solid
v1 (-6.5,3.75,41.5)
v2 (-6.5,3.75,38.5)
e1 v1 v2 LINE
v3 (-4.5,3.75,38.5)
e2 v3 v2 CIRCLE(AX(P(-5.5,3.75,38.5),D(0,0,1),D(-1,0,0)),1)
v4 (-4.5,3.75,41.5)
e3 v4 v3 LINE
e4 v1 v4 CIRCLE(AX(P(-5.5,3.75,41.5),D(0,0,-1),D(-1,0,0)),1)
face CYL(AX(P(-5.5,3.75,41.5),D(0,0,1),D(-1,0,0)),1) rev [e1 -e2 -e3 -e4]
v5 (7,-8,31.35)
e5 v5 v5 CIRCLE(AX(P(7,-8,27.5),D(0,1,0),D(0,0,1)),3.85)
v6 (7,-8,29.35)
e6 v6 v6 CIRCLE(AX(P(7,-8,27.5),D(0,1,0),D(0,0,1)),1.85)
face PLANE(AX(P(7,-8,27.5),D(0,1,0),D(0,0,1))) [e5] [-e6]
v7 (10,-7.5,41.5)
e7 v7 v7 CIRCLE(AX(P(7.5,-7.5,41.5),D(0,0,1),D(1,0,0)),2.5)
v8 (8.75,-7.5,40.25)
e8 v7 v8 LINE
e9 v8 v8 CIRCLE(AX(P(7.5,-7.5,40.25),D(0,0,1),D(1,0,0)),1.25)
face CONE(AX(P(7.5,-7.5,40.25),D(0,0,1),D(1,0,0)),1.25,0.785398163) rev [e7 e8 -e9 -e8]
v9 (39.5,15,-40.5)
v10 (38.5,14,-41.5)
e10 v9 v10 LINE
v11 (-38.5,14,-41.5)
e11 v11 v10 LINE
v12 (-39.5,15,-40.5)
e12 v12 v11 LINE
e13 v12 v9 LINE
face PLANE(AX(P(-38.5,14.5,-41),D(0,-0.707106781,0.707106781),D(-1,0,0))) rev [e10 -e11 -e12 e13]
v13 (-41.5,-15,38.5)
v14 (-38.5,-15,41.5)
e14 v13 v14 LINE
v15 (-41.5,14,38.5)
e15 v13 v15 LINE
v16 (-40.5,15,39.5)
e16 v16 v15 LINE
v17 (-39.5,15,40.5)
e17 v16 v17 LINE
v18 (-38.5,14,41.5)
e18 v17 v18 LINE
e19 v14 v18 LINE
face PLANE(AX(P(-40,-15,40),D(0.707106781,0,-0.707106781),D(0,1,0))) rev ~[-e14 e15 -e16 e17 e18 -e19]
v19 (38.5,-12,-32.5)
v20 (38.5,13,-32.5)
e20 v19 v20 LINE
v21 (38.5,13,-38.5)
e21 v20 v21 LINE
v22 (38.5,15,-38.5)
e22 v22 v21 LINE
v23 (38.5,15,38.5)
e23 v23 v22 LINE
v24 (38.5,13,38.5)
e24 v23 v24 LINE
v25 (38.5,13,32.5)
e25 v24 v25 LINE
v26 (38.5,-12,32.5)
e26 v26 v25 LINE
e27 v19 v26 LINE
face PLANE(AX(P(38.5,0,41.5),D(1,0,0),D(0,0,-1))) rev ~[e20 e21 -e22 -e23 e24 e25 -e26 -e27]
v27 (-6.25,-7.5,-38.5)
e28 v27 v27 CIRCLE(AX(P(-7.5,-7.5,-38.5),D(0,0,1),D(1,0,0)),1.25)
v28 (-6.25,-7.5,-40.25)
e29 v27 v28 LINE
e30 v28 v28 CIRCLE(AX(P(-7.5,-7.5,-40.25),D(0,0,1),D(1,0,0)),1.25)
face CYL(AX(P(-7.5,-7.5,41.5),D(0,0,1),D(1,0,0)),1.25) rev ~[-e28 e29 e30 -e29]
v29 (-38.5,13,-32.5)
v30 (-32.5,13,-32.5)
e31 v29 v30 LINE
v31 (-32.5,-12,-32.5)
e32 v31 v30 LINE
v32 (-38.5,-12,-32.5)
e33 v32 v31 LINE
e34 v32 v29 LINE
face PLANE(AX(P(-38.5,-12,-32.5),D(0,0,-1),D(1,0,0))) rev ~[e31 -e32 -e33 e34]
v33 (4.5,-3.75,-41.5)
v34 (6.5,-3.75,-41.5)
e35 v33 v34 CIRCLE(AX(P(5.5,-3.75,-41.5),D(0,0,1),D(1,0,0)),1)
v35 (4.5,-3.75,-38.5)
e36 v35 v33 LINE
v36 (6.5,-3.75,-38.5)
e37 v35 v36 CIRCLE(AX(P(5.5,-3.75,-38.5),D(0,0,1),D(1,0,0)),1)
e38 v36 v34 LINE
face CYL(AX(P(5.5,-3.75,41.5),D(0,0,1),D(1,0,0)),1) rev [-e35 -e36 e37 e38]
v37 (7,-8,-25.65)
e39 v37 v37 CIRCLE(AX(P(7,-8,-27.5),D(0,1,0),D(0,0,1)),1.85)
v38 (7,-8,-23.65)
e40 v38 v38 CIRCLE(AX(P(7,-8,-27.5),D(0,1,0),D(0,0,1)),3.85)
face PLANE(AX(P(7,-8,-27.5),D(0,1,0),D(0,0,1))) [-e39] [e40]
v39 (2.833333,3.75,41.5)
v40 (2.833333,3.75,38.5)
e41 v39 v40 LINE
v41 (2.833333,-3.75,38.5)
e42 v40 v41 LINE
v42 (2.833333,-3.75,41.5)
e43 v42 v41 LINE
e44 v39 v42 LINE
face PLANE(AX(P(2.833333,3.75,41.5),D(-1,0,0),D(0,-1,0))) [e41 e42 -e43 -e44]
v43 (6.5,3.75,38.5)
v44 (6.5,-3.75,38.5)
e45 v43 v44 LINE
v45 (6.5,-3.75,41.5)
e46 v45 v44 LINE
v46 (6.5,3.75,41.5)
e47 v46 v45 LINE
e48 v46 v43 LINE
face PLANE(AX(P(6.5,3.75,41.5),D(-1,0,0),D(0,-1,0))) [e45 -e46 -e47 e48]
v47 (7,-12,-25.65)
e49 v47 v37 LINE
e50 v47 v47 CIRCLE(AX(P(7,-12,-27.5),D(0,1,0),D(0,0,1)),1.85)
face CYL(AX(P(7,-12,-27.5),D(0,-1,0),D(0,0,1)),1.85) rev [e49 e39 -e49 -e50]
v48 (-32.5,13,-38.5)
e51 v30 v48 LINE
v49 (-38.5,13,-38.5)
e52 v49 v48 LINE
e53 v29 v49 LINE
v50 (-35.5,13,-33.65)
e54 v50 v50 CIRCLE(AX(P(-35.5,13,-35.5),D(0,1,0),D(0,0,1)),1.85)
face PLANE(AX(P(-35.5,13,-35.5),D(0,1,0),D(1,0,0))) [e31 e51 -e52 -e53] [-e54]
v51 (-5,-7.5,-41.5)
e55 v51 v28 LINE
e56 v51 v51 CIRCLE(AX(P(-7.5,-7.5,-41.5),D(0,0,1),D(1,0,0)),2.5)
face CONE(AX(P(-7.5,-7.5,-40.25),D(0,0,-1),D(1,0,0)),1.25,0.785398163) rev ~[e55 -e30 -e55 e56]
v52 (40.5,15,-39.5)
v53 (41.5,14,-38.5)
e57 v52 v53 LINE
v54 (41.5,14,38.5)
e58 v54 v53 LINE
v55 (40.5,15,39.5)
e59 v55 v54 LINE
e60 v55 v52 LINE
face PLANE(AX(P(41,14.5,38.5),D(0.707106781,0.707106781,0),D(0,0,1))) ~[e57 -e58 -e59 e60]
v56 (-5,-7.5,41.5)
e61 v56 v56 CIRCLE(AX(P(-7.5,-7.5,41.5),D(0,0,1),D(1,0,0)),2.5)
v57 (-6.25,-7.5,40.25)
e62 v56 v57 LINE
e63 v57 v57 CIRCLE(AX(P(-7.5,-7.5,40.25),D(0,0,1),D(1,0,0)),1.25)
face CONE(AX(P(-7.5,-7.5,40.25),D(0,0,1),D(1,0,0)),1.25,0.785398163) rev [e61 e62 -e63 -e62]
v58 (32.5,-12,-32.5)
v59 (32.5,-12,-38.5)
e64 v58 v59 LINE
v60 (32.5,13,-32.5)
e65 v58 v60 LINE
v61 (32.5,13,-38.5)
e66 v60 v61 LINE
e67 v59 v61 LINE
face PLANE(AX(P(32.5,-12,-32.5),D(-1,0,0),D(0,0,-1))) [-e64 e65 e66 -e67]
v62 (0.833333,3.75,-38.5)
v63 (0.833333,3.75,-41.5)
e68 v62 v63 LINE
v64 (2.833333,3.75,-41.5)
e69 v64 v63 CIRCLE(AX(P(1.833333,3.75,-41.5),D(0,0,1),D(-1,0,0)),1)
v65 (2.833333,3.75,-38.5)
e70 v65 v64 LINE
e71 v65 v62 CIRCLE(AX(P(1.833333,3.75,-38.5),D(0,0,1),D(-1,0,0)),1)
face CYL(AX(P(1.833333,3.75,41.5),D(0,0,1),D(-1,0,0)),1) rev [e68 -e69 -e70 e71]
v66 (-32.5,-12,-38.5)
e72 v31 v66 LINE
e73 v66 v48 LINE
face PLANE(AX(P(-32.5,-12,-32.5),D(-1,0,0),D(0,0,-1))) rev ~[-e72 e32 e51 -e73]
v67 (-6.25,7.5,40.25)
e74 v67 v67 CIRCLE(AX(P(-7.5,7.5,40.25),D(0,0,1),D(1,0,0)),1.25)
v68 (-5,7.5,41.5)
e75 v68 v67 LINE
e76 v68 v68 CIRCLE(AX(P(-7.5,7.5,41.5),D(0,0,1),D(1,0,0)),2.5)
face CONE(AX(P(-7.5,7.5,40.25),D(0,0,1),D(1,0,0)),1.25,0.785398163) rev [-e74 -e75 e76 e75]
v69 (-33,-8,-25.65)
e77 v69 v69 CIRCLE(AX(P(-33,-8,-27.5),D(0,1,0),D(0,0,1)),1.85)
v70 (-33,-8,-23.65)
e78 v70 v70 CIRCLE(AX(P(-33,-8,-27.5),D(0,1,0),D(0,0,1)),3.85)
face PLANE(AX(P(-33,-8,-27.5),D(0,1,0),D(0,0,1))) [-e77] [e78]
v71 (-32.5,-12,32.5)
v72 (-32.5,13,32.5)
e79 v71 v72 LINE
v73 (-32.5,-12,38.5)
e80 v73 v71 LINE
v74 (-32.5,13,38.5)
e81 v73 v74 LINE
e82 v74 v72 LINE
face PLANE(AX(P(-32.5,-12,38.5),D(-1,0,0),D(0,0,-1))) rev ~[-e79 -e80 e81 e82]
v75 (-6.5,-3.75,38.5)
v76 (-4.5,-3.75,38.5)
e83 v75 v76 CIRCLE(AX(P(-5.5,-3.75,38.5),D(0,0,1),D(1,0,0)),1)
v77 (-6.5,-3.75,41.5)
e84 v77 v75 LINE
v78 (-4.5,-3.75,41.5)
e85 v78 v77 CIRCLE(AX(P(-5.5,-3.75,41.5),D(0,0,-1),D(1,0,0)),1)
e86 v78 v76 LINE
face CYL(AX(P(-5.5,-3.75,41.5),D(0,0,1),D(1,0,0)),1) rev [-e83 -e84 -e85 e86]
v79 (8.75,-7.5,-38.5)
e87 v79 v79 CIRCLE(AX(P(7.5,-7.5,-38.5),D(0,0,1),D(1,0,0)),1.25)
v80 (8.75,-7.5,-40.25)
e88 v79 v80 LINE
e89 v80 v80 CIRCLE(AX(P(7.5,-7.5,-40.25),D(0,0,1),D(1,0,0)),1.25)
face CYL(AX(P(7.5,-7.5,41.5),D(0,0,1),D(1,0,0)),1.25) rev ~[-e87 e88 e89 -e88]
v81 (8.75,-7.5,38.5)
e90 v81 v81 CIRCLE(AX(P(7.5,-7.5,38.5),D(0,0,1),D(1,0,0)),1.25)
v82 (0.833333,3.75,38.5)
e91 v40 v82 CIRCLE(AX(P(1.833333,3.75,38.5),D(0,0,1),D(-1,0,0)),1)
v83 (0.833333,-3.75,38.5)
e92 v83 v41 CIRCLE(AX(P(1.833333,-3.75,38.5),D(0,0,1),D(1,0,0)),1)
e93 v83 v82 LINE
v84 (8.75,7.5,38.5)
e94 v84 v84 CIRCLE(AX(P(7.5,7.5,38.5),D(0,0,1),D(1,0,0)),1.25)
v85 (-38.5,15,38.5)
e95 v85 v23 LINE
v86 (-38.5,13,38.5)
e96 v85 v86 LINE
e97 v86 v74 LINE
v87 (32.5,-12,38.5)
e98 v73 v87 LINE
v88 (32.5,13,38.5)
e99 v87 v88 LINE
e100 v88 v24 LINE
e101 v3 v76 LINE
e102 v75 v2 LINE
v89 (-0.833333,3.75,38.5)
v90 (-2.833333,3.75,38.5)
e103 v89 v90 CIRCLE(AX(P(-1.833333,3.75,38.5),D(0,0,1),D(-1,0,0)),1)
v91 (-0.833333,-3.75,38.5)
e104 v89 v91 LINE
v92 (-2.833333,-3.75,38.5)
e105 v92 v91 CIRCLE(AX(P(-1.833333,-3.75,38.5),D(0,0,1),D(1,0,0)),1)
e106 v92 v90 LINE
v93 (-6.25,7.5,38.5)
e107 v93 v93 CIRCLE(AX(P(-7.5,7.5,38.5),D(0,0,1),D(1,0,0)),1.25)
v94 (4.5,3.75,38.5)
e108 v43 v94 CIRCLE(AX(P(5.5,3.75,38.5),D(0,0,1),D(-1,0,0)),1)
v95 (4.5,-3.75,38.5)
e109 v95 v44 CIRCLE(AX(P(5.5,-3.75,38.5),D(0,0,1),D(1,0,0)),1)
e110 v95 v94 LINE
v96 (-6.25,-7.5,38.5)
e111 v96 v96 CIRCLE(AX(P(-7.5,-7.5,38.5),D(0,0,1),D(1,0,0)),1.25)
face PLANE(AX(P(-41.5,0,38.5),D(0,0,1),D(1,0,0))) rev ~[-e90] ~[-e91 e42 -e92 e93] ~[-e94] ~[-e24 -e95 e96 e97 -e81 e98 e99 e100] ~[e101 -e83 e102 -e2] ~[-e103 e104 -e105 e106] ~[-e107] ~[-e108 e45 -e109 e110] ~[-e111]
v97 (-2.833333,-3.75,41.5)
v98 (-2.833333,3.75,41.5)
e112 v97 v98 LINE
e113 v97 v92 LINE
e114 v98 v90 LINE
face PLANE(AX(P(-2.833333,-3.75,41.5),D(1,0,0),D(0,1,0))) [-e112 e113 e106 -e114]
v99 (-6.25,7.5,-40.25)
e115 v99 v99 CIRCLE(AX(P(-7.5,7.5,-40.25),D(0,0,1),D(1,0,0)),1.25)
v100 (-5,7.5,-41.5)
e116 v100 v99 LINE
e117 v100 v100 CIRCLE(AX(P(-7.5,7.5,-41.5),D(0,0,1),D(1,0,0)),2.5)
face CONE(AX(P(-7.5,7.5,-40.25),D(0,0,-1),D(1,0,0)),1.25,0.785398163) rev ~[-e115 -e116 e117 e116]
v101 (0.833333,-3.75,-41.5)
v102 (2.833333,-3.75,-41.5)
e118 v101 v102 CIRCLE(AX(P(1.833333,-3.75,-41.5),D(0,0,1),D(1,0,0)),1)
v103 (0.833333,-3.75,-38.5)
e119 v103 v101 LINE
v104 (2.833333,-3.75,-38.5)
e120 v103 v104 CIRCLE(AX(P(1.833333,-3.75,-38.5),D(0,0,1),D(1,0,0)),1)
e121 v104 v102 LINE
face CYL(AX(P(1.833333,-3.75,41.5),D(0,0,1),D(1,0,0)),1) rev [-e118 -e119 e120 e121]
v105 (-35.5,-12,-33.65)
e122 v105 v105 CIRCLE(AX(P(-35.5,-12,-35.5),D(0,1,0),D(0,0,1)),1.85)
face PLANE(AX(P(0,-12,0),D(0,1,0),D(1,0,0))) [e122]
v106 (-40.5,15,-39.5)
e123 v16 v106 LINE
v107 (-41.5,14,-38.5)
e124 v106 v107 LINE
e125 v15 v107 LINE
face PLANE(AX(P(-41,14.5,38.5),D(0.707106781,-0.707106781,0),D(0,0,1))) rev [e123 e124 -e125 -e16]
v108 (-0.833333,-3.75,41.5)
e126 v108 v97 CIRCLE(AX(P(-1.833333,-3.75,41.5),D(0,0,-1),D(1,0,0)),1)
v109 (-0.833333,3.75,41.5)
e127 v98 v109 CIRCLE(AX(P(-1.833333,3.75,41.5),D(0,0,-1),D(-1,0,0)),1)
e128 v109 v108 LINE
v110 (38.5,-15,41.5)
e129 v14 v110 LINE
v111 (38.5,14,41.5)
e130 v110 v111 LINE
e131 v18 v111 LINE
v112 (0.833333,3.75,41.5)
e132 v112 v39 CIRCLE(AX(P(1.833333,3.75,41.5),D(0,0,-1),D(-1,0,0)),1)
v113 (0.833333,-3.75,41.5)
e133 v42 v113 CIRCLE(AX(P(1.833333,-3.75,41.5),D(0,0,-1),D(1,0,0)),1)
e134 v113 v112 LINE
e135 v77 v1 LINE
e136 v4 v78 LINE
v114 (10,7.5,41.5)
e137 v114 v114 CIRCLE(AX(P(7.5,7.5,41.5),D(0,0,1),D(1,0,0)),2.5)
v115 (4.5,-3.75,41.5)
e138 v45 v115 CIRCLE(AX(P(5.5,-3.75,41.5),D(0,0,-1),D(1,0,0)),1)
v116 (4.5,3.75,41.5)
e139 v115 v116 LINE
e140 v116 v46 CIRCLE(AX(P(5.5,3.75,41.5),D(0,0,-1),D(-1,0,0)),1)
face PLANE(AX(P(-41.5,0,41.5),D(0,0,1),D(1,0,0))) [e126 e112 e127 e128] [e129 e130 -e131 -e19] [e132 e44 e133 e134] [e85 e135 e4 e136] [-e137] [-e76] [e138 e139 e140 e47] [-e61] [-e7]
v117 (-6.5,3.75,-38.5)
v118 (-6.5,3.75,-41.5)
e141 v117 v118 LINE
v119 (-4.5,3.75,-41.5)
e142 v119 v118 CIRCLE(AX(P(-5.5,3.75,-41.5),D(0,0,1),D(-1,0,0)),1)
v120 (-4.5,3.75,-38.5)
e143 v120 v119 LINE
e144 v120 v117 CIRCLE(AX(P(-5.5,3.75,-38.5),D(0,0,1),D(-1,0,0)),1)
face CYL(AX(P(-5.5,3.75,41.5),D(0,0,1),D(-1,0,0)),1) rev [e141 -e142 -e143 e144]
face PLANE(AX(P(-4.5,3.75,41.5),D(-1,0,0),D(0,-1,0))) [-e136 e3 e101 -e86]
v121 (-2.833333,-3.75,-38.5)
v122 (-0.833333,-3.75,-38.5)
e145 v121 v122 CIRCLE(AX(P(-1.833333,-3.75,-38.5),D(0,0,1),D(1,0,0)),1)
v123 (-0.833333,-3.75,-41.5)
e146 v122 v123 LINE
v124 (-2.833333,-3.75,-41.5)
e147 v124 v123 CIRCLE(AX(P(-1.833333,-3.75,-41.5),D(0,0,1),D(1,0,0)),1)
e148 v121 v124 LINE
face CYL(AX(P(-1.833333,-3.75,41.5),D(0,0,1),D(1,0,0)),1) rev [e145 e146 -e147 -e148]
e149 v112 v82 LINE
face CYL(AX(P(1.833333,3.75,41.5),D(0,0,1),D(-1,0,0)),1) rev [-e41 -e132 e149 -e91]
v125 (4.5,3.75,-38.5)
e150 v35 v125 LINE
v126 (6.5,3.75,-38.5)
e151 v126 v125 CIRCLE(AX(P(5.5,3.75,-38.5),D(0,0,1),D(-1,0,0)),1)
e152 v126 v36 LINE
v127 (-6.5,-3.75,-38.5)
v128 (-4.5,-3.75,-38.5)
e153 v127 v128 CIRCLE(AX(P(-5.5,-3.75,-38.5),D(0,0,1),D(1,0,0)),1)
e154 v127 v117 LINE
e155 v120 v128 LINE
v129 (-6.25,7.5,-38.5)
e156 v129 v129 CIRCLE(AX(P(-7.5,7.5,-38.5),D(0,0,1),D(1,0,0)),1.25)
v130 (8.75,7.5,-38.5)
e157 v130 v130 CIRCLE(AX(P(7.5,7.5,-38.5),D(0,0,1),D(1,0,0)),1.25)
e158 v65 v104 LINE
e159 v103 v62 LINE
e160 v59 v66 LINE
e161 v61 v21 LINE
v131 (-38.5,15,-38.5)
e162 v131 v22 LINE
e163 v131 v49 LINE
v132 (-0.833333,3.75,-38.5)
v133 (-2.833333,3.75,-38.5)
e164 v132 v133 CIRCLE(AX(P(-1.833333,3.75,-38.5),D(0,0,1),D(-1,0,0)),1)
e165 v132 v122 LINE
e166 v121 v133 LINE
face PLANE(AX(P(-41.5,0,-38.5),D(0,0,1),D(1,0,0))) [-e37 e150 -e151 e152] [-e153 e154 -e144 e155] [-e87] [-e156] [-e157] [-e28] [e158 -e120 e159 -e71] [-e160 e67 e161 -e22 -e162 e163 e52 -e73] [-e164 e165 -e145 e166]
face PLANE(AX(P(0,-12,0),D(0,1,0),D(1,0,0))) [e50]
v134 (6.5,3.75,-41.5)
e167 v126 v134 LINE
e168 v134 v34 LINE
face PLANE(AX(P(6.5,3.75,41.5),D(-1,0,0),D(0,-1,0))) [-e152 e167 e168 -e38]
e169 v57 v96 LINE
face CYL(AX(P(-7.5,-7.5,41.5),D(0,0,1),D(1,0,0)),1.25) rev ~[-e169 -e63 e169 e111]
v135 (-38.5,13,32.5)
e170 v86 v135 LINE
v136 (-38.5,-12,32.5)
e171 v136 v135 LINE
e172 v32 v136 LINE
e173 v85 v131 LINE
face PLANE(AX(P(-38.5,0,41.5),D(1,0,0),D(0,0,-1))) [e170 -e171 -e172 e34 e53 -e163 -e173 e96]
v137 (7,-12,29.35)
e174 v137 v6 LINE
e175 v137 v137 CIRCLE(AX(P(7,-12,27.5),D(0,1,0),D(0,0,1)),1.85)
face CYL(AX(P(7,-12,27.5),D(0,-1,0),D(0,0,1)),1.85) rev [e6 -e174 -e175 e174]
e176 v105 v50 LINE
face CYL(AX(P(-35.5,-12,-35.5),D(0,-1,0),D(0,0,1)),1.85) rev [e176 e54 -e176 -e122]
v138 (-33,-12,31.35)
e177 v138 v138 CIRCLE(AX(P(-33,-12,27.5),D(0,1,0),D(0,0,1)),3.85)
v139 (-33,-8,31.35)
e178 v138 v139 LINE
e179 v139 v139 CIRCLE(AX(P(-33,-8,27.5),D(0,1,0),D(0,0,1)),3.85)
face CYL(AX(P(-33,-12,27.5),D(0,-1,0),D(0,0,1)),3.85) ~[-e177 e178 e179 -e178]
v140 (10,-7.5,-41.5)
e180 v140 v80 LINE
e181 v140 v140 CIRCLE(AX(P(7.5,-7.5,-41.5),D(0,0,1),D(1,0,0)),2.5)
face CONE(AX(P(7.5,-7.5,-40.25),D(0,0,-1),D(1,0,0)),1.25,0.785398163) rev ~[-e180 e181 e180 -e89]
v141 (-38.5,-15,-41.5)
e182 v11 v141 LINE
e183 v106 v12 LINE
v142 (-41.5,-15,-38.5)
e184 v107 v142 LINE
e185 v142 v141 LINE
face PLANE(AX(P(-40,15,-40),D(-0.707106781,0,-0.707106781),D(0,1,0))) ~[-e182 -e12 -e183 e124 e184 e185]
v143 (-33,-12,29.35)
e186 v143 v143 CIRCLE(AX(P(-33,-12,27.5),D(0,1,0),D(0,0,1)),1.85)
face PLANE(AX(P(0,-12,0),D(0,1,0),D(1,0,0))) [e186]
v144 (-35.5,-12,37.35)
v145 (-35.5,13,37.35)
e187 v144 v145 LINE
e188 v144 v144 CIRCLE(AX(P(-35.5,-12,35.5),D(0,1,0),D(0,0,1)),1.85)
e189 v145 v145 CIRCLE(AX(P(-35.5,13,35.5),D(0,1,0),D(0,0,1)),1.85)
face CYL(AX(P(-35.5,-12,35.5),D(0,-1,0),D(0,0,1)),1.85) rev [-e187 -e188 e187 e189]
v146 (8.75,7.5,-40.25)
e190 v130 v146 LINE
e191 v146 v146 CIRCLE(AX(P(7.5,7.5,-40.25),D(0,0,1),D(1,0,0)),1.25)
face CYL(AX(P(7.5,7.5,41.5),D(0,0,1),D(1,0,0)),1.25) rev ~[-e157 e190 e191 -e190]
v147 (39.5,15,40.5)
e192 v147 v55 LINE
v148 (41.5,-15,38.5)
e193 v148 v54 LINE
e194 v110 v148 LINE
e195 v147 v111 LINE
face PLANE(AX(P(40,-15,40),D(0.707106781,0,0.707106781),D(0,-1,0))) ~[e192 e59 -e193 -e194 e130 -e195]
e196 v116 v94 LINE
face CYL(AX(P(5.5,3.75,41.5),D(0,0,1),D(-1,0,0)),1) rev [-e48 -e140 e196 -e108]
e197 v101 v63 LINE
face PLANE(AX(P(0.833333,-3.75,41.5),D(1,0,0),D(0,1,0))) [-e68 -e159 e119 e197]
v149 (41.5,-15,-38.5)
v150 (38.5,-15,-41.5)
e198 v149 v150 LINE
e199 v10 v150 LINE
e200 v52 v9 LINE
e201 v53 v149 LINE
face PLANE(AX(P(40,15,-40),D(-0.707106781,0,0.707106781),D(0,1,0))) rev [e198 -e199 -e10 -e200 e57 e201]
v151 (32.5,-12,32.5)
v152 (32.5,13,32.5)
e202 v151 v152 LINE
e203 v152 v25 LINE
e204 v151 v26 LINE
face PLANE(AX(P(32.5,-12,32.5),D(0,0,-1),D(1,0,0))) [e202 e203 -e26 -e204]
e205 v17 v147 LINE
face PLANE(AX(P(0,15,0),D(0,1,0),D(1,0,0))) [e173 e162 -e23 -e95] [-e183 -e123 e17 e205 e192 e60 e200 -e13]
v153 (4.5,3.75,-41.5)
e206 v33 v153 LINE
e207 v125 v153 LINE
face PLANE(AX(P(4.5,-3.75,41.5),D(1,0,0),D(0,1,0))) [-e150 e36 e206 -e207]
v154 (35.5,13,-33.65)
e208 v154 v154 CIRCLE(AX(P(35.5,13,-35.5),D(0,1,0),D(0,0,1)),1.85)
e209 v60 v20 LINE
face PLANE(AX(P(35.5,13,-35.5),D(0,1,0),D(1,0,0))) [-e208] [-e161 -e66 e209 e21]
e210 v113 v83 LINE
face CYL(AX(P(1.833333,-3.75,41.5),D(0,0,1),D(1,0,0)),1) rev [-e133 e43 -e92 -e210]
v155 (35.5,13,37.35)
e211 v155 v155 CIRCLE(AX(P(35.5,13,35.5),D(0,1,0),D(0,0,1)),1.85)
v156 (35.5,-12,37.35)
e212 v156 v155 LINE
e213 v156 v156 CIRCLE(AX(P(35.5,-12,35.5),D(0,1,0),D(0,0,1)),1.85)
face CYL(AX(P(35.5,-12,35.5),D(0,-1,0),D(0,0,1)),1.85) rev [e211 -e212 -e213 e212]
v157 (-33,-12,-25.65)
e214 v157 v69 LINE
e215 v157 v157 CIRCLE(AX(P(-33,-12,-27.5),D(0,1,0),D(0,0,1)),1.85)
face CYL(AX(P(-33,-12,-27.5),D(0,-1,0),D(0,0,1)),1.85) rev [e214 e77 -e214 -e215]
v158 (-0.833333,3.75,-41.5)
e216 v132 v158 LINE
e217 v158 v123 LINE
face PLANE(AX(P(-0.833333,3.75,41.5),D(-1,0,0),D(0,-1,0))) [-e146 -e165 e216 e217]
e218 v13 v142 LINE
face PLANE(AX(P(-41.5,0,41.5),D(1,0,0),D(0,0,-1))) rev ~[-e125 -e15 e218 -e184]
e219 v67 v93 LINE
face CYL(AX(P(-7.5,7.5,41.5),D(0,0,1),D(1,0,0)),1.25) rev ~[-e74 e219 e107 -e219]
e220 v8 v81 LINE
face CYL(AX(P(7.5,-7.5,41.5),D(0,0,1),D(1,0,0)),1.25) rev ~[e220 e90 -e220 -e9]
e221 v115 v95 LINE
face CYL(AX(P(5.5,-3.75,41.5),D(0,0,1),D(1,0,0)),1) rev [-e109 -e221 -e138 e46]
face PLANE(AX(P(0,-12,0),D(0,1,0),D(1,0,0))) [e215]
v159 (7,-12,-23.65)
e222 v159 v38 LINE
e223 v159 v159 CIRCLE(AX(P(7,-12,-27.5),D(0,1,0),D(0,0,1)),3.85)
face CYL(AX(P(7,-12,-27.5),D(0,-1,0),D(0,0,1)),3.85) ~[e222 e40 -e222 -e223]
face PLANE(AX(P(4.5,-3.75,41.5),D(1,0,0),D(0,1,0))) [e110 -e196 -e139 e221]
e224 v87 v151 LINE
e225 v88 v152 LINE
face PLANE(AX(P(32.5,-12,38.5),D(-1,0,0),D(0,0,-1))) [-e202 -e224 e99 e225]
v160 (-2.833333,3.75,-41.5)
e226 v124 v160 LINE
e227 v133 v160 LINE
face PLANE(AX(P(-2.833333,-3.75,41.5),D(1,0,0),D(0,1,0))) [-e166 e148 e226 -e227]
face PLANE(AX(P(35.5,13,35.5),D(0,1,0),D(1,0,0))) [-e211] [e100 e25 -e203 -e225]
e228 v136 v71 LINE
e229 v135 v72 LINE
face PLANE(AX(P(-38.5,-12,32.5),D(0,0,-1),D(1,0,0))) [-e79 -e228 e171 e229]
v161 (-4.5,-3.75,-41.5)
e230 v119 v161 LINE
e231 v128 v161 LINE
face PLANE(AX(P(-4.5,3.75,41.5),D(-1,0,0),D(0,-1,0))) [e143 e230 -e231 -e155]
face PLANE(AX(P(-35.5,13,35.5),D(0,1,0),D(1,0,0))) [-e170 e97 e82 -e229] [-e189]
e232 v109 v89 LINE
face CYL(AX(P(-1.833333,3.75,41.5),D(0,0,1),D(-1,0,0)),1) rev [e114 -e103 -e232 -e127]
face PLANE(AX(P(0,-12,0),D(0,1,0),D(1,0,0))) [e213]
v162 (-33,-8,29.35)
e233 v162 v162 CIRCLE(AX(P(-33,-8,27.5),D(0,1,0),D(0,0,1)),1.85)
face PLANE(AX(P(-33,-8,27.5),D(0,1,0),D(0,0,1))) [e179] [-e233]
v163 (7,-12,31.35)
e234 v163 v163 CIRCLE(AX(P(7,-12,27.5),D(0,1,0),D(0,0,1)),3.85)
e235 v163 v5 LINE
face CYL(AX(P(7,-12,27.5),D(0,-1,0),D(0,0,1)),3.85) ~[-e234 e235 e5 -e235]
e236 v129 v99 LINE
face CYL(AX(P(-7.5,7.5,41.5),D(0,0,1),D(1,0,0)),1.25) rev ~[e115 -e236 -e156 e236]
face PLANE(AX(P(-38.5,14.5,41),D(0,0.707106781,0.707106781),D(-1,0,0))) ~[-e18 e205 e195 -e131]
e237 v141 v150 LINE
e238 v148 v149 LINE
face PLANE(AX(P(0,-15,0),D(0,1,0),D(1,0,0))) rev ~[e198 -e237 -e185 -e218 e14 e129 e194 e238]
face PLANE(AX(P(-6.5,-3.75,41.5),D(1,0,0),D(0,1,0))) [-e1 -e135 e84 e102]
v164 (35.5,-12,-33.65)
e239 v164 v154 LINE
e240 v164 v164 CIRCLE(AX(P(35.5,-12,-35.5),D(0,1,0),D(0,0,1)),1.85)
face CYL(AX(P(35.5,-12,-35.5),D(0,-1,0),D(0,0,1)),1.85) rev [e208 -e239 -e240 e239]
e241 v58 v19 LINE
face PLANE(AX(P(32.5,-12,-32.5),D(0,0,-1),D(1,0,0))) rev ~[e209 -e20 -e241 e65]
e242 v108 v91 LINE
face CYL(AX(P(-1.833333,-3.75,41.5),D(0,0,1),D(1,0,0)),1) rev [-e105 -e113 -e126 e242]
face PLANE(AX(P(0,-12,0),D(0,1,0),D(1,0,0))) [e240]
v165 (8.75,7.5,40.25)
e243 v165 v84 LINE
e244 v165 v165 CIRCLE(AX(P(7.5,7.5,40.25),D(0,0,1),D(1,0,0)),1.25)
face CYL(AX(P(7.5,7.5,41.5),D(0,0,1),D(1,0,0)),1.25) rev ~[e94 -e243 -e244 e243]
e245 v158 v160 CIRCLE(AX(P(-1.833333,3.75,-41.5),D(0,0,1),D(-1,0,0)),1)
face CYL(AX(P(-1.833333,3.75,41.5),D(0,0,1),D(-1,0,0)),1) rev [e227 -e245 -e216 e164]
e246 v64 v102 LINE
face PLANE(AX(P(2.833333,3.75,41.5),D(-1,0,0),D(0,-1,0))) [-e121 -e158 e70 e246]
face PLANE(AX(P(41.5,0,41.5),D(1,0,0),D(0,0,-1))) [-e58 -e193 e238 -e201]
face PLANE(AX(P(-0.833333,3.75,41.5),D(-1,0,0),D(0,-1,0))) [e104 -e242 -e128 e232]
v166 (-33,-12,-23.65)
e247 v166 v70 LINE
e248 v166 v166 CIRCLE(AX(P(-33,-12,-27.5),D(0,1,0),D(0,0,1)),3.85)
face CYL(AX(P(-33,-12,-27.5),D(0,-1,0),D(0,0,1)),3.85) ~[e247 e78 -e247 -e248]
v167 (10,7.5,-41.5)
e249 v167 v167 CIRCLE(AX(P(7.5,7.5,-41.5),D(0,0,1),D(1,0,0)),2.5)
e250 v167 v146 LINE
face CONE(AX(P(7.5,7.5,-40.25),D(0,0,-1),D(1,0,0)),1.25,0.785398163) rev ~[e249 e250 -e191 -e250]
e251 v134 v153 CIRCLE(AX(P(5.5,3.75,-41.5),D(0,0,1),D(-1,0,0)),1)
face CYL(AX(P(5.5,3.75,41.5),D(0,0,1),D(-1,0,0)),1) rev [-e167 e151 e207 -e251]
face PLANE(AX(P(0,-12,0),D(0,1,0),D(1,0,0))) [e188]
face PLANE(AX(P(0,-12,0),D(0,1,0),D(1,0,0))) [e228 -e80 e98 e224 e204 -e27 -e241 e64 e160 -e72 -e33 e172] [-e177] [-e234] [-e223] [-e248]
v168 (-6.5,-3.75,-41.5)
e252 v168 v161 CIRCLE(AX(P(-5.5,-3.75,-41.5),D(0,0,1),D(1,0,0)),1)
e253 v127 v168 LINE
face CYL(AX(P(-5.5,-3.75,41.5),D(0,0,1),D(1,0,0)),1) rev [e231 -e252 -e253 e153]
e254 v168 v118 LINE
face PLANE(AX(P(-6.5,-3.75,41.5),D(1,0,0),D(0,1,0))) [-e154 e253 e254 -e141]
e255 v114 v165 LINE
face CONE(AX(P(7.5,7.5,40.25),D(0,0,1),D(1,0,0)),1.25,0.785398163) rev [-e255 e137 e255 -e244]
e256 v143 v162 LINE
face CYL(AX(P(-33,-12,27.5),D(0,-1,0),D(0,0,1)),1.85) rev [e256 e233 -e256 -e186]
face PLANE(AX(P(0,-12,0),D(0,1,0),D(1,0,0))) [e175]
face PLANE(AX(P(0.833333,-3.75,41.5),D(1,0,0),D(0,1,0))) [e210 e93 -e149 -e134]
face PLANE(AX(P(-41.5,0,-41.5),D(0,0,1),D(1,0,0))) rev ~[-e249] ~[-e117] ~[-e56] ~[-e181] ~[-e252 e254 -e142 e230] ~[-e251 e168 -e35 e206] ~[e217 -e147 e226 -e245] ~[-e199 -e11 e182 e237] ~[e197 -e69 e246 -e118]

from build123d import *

# Parameters (mm, degrees)
SKETCH3_W              = 83
SKETCH3_H              = 83
BODY_DEPTH             = 15
SHELL_T                = -3
SKETCH4_W              = 6
SKETCH4_H              = 6
SKETCH4_R              = 1.85
INSERTS_SUPPPORT_DEPTH = 25
CHAMFER1_SIZE          = 3
CHAMFER2_SIZE          = 1
SKETCH5_R              = 1.25
AIR_EXTRACTION_DEPTH   = 95.001329778
CHAMFER3_SIZE          = 1.25
SKETCH7_R              = 3.85
SKETCH7_R_2            = 1.85
BOSS_EXTRUDE1_DEPTH    = 4


with BuildPart() as part:
    # Sketch3 → Body (new, symmetric)
    with BuildSketch(Plane(origin=(0, 0, 0), x_dir=(1, 0, 0), z_dir=(0, 1, 0))):
        Rectangle(SKETCH3_W, SKETCH3_H)
    extrude(amount=BODY_DEPTH, both=True)

    # Shell
    shell_openings = [part.faces().sort_by_distance(p)[0] for p in [
        (0, 15, 0),
    ]]
    offset(amount=SHELL_T, openings=shell_openings, kind=Kind.INTERSECTION)

    # Sketch4 → Inserts_Suppport (add)
    # profile 1 of 4: a face of its own
    with BuildSketch(Plane(origin=(0, -12, 0), x_dir=(1, 0, 0), z_dir=(0, 1, 0))):
        with Locations((-35.5, 35.5)):
            Rectangle(SKETCH4_W, SKETCH4_H)
        with Locations(Location((-35.5, 35.5, 0), (0, 0, 270))):
            Circle(SKETCH4_R, mode=Mode.SUBTRACT)
    # profile 2 of 4: a face of its own
    with BuildSketch(Plane(origin=(0, -12, 0), x_dir=(1, 0, 0), z_dir=(0, 1, 0))):
        with Locations((35.5, 35.5)):
            Rectangle(SKETCH4_W, SKETCH4_H)
        with Locations(Location((35.5, 35.5, 0), (0, 0, 270))):
            Circle(SKETCH4_R, mode=Mode.SUBTRACT)
    # profile 3 of 4: a face of its own
    with BuildSketch(Plane(origin=(0, -12, 0), x_dir=(1, 0, 0), z_dir=(0, 1, 0))):
        with Locations((35.5, -35.5)):
            Rectangle(SKETCH4_W, SKETCH4_H)
        with Locations(Location((35.5, -35.5, 0), (0, 0, 270))):
            Circle(SKETCH4_R, mode=Mode.SUBTRACT)
    # profile 4 of 4: a face of its own
    with BuildSketch(Plane(origin=(0, -12, 0), x_dir=(1, 0, 0), z_dir=(0, 1, 0))):
        with Locations((-35.5, -35.5)):
            Rectangle(SKETCH4_W, SKETCH4_H)
        with Locations(Location((-35.5, -35.5, 0), (0, 0, 270))):
            Circle(SKETCH4_R, mode=Mode.SUBTRACT)
    extrude(amount=INSERTS_SUPPPORT_DEPTH)

    # Chamfer1
    chamfer1_edges = [part.edges().sort_by_distance(p)[0] for p in [
        (-41.5, 0, -41.5),
        (41.5, 0, -41.5),
        (41.5, 0, 41.5),
        (-41.5, 0, 41.5),
    ]]
    chamfer(chamfer1_edges, length=CHAMFER1_SIZE)

    # Chamfer2
    chamfer2_edges = [part.edges().sort_by_distance(p)[0] for p in [
        (0, 15, 41.5),
        (-41.5, 15, 0),
        (41.5, 15, 0),
        (0, 15, -41.5),
    ]]
    chamfer(chamfer2_edges, length=CHAMFER2_SIZE)

    # Sketch5 → Air_Extraction (cut, through all)
    with BuildSketch(Plane.XY.offset(41.5)):
        with Locations((-7.5, 7.5)):
            Circle(SKETCH5_R)
        with Locations((-7.5, -7.5)):
            Circle(SKETCH5_R)
        with Locations((7.5, -7.5)):
            Circle(SKETCH5_R)
        with Locations((7.5, 7.5)):
            Circle(SKETCH5_R)
        with BuildLine():
            Line((-4.5, 3.75), (-4.5, -3.75))
            ThreePointArc((-4.5, -3.75), (-5.5, -4.75), (-6.5, -3.75))
            Line((-6.5, -3.75), (-6.5, 3.75))
            ThreePointArc((-6.5, 3.75), (-5.5, 4.75), (-4.5, 3.75))
        make_face()
        with BuildLine():
            Line((-0.833333333, 3.75), (-0.833333333, -3.75))
            ThreePointArc((-0.833333333, -3.75), (-1.833333333, -4.75), (-2.833333333, -3.75))
            Line((-2.833333333, -3.75), (-2.833333333, 3.75))
            ThreePointArc((-2.833333333, 3.75), (-1.833333333, 4.75), (-0.833333333, 3.75))
        make_face()
        with BuildLine():
            Line((2.833333333, 3.75), (2.833333333, -3.75))
            ThreePointArc((2.833333333, -3.75), (1.833333333, -4.75), (0.833333333, -3.75))
            Line((0.833333333, -3.75), (0.833333333, 3.75))
            ThreePointArc((0.833333333, 3.75), (1.833333333, 4.75), (2.833333333, 3.75))
        make_face()
        with BuildLine():
            Line((6.5, 3.75), (6.5, -3.75))
            ThreePointArc((6.5, -3.75), (5.5, -4.75), (4.5, -3.75))
            Line((4.5, -3.75), (4.5, 3.75))
            ThreePointArc((4.5, 3.75), (5.5, 4.75), (6.5, 3.75))
        make_face()
    extrude(amount=-AIR_EXTRACTION_DEPTH, mode=Mode.SUBTRACT)

    # Chamfer3
    chamfer3_edges = [part.edges().sort_by_distance(p)[0] for p in [
        (6.25, 7.5, -41.5),
        (6.25, 7.5, 41.5),
        (6.25, -7.5, -41.5),
        (6.25, -7.5, 41.5),
        (-8.75, 7.5, -41.5),
        (-8.75, 7.5, 41.5),
        (-8.75, -7.5, -41.5),
        (-8.75, -7.5, 41.5),
    ]]
    chamfer(chamfer3_edges, length=CHAMFER3_SIZE)

    # Sketch7 → Boss-Extrude1 (add)
    # profile 1 of 4: a face of its own
    with BuildSketch(Plane(origin=(0, -12, 0), x_dir=(1, 0, 0), z_dir=(0, 1, 0))):
        with Locations(Location((7, 27.5, 0), (0, 0, 270))):
            Circle(SKETCH7_R)
        with Locations(Location((7, 27.5, 0), (0, 0, 270))):
            Circle(SKETCH7_R_2, mode=Mode.SUBTRACT)
    # profile 2 of 4: a face of its own
    with BuildSketch(Plane(origin=(0, -12, 0), x_dir=(1, 0, 0), z_dir=(0, 1, 0))):
        with Locations(Location((-33, 27.5, 0), (0, 0, 270))):
            Circle(SKETCH7_R)
        with Locations(Location((-33, 27.5, 0), (0, 0, 270))):
            Circle(SKETCH7_R_2, mode=Mode.SUBTRACT)
    # profile 3 of 4: a face of its own
    with BuildSketch(Plane(origin=(0, -12, 0), x_dir=(1, 0, 0), z_dir=(0, 1, 0))):
        with Locations(Location((-33, -27.5, 0), (0, 0, 270))):
            Circle(SKETCH7_R)
        with Locations(Location((-33, -27.5, 0), (0, 0, 270))):
            Circle(SKETCH7_R_2, mode=Mode.SUBTRACT)
    # profile 4 of 4: a face of its own
    with BuildSketch(Plane(origin=(0, -12, 0), x_dir=(1, 0, 0), z_dir=(0, 1, 0))):
        with Locations(Location((7, -27.5, 0), (0, 0, 270))):
            Circle(SKETCH7_R)
        with Locations(Location((7, -27.5, 0), (0, 0, 270))):
            Circle(SKETCH7_R_2, mode=Mode.SUBTRACT)
    extrude(amount=BOSS_EXTRUDE1_DEPTH)


solid = part.part
